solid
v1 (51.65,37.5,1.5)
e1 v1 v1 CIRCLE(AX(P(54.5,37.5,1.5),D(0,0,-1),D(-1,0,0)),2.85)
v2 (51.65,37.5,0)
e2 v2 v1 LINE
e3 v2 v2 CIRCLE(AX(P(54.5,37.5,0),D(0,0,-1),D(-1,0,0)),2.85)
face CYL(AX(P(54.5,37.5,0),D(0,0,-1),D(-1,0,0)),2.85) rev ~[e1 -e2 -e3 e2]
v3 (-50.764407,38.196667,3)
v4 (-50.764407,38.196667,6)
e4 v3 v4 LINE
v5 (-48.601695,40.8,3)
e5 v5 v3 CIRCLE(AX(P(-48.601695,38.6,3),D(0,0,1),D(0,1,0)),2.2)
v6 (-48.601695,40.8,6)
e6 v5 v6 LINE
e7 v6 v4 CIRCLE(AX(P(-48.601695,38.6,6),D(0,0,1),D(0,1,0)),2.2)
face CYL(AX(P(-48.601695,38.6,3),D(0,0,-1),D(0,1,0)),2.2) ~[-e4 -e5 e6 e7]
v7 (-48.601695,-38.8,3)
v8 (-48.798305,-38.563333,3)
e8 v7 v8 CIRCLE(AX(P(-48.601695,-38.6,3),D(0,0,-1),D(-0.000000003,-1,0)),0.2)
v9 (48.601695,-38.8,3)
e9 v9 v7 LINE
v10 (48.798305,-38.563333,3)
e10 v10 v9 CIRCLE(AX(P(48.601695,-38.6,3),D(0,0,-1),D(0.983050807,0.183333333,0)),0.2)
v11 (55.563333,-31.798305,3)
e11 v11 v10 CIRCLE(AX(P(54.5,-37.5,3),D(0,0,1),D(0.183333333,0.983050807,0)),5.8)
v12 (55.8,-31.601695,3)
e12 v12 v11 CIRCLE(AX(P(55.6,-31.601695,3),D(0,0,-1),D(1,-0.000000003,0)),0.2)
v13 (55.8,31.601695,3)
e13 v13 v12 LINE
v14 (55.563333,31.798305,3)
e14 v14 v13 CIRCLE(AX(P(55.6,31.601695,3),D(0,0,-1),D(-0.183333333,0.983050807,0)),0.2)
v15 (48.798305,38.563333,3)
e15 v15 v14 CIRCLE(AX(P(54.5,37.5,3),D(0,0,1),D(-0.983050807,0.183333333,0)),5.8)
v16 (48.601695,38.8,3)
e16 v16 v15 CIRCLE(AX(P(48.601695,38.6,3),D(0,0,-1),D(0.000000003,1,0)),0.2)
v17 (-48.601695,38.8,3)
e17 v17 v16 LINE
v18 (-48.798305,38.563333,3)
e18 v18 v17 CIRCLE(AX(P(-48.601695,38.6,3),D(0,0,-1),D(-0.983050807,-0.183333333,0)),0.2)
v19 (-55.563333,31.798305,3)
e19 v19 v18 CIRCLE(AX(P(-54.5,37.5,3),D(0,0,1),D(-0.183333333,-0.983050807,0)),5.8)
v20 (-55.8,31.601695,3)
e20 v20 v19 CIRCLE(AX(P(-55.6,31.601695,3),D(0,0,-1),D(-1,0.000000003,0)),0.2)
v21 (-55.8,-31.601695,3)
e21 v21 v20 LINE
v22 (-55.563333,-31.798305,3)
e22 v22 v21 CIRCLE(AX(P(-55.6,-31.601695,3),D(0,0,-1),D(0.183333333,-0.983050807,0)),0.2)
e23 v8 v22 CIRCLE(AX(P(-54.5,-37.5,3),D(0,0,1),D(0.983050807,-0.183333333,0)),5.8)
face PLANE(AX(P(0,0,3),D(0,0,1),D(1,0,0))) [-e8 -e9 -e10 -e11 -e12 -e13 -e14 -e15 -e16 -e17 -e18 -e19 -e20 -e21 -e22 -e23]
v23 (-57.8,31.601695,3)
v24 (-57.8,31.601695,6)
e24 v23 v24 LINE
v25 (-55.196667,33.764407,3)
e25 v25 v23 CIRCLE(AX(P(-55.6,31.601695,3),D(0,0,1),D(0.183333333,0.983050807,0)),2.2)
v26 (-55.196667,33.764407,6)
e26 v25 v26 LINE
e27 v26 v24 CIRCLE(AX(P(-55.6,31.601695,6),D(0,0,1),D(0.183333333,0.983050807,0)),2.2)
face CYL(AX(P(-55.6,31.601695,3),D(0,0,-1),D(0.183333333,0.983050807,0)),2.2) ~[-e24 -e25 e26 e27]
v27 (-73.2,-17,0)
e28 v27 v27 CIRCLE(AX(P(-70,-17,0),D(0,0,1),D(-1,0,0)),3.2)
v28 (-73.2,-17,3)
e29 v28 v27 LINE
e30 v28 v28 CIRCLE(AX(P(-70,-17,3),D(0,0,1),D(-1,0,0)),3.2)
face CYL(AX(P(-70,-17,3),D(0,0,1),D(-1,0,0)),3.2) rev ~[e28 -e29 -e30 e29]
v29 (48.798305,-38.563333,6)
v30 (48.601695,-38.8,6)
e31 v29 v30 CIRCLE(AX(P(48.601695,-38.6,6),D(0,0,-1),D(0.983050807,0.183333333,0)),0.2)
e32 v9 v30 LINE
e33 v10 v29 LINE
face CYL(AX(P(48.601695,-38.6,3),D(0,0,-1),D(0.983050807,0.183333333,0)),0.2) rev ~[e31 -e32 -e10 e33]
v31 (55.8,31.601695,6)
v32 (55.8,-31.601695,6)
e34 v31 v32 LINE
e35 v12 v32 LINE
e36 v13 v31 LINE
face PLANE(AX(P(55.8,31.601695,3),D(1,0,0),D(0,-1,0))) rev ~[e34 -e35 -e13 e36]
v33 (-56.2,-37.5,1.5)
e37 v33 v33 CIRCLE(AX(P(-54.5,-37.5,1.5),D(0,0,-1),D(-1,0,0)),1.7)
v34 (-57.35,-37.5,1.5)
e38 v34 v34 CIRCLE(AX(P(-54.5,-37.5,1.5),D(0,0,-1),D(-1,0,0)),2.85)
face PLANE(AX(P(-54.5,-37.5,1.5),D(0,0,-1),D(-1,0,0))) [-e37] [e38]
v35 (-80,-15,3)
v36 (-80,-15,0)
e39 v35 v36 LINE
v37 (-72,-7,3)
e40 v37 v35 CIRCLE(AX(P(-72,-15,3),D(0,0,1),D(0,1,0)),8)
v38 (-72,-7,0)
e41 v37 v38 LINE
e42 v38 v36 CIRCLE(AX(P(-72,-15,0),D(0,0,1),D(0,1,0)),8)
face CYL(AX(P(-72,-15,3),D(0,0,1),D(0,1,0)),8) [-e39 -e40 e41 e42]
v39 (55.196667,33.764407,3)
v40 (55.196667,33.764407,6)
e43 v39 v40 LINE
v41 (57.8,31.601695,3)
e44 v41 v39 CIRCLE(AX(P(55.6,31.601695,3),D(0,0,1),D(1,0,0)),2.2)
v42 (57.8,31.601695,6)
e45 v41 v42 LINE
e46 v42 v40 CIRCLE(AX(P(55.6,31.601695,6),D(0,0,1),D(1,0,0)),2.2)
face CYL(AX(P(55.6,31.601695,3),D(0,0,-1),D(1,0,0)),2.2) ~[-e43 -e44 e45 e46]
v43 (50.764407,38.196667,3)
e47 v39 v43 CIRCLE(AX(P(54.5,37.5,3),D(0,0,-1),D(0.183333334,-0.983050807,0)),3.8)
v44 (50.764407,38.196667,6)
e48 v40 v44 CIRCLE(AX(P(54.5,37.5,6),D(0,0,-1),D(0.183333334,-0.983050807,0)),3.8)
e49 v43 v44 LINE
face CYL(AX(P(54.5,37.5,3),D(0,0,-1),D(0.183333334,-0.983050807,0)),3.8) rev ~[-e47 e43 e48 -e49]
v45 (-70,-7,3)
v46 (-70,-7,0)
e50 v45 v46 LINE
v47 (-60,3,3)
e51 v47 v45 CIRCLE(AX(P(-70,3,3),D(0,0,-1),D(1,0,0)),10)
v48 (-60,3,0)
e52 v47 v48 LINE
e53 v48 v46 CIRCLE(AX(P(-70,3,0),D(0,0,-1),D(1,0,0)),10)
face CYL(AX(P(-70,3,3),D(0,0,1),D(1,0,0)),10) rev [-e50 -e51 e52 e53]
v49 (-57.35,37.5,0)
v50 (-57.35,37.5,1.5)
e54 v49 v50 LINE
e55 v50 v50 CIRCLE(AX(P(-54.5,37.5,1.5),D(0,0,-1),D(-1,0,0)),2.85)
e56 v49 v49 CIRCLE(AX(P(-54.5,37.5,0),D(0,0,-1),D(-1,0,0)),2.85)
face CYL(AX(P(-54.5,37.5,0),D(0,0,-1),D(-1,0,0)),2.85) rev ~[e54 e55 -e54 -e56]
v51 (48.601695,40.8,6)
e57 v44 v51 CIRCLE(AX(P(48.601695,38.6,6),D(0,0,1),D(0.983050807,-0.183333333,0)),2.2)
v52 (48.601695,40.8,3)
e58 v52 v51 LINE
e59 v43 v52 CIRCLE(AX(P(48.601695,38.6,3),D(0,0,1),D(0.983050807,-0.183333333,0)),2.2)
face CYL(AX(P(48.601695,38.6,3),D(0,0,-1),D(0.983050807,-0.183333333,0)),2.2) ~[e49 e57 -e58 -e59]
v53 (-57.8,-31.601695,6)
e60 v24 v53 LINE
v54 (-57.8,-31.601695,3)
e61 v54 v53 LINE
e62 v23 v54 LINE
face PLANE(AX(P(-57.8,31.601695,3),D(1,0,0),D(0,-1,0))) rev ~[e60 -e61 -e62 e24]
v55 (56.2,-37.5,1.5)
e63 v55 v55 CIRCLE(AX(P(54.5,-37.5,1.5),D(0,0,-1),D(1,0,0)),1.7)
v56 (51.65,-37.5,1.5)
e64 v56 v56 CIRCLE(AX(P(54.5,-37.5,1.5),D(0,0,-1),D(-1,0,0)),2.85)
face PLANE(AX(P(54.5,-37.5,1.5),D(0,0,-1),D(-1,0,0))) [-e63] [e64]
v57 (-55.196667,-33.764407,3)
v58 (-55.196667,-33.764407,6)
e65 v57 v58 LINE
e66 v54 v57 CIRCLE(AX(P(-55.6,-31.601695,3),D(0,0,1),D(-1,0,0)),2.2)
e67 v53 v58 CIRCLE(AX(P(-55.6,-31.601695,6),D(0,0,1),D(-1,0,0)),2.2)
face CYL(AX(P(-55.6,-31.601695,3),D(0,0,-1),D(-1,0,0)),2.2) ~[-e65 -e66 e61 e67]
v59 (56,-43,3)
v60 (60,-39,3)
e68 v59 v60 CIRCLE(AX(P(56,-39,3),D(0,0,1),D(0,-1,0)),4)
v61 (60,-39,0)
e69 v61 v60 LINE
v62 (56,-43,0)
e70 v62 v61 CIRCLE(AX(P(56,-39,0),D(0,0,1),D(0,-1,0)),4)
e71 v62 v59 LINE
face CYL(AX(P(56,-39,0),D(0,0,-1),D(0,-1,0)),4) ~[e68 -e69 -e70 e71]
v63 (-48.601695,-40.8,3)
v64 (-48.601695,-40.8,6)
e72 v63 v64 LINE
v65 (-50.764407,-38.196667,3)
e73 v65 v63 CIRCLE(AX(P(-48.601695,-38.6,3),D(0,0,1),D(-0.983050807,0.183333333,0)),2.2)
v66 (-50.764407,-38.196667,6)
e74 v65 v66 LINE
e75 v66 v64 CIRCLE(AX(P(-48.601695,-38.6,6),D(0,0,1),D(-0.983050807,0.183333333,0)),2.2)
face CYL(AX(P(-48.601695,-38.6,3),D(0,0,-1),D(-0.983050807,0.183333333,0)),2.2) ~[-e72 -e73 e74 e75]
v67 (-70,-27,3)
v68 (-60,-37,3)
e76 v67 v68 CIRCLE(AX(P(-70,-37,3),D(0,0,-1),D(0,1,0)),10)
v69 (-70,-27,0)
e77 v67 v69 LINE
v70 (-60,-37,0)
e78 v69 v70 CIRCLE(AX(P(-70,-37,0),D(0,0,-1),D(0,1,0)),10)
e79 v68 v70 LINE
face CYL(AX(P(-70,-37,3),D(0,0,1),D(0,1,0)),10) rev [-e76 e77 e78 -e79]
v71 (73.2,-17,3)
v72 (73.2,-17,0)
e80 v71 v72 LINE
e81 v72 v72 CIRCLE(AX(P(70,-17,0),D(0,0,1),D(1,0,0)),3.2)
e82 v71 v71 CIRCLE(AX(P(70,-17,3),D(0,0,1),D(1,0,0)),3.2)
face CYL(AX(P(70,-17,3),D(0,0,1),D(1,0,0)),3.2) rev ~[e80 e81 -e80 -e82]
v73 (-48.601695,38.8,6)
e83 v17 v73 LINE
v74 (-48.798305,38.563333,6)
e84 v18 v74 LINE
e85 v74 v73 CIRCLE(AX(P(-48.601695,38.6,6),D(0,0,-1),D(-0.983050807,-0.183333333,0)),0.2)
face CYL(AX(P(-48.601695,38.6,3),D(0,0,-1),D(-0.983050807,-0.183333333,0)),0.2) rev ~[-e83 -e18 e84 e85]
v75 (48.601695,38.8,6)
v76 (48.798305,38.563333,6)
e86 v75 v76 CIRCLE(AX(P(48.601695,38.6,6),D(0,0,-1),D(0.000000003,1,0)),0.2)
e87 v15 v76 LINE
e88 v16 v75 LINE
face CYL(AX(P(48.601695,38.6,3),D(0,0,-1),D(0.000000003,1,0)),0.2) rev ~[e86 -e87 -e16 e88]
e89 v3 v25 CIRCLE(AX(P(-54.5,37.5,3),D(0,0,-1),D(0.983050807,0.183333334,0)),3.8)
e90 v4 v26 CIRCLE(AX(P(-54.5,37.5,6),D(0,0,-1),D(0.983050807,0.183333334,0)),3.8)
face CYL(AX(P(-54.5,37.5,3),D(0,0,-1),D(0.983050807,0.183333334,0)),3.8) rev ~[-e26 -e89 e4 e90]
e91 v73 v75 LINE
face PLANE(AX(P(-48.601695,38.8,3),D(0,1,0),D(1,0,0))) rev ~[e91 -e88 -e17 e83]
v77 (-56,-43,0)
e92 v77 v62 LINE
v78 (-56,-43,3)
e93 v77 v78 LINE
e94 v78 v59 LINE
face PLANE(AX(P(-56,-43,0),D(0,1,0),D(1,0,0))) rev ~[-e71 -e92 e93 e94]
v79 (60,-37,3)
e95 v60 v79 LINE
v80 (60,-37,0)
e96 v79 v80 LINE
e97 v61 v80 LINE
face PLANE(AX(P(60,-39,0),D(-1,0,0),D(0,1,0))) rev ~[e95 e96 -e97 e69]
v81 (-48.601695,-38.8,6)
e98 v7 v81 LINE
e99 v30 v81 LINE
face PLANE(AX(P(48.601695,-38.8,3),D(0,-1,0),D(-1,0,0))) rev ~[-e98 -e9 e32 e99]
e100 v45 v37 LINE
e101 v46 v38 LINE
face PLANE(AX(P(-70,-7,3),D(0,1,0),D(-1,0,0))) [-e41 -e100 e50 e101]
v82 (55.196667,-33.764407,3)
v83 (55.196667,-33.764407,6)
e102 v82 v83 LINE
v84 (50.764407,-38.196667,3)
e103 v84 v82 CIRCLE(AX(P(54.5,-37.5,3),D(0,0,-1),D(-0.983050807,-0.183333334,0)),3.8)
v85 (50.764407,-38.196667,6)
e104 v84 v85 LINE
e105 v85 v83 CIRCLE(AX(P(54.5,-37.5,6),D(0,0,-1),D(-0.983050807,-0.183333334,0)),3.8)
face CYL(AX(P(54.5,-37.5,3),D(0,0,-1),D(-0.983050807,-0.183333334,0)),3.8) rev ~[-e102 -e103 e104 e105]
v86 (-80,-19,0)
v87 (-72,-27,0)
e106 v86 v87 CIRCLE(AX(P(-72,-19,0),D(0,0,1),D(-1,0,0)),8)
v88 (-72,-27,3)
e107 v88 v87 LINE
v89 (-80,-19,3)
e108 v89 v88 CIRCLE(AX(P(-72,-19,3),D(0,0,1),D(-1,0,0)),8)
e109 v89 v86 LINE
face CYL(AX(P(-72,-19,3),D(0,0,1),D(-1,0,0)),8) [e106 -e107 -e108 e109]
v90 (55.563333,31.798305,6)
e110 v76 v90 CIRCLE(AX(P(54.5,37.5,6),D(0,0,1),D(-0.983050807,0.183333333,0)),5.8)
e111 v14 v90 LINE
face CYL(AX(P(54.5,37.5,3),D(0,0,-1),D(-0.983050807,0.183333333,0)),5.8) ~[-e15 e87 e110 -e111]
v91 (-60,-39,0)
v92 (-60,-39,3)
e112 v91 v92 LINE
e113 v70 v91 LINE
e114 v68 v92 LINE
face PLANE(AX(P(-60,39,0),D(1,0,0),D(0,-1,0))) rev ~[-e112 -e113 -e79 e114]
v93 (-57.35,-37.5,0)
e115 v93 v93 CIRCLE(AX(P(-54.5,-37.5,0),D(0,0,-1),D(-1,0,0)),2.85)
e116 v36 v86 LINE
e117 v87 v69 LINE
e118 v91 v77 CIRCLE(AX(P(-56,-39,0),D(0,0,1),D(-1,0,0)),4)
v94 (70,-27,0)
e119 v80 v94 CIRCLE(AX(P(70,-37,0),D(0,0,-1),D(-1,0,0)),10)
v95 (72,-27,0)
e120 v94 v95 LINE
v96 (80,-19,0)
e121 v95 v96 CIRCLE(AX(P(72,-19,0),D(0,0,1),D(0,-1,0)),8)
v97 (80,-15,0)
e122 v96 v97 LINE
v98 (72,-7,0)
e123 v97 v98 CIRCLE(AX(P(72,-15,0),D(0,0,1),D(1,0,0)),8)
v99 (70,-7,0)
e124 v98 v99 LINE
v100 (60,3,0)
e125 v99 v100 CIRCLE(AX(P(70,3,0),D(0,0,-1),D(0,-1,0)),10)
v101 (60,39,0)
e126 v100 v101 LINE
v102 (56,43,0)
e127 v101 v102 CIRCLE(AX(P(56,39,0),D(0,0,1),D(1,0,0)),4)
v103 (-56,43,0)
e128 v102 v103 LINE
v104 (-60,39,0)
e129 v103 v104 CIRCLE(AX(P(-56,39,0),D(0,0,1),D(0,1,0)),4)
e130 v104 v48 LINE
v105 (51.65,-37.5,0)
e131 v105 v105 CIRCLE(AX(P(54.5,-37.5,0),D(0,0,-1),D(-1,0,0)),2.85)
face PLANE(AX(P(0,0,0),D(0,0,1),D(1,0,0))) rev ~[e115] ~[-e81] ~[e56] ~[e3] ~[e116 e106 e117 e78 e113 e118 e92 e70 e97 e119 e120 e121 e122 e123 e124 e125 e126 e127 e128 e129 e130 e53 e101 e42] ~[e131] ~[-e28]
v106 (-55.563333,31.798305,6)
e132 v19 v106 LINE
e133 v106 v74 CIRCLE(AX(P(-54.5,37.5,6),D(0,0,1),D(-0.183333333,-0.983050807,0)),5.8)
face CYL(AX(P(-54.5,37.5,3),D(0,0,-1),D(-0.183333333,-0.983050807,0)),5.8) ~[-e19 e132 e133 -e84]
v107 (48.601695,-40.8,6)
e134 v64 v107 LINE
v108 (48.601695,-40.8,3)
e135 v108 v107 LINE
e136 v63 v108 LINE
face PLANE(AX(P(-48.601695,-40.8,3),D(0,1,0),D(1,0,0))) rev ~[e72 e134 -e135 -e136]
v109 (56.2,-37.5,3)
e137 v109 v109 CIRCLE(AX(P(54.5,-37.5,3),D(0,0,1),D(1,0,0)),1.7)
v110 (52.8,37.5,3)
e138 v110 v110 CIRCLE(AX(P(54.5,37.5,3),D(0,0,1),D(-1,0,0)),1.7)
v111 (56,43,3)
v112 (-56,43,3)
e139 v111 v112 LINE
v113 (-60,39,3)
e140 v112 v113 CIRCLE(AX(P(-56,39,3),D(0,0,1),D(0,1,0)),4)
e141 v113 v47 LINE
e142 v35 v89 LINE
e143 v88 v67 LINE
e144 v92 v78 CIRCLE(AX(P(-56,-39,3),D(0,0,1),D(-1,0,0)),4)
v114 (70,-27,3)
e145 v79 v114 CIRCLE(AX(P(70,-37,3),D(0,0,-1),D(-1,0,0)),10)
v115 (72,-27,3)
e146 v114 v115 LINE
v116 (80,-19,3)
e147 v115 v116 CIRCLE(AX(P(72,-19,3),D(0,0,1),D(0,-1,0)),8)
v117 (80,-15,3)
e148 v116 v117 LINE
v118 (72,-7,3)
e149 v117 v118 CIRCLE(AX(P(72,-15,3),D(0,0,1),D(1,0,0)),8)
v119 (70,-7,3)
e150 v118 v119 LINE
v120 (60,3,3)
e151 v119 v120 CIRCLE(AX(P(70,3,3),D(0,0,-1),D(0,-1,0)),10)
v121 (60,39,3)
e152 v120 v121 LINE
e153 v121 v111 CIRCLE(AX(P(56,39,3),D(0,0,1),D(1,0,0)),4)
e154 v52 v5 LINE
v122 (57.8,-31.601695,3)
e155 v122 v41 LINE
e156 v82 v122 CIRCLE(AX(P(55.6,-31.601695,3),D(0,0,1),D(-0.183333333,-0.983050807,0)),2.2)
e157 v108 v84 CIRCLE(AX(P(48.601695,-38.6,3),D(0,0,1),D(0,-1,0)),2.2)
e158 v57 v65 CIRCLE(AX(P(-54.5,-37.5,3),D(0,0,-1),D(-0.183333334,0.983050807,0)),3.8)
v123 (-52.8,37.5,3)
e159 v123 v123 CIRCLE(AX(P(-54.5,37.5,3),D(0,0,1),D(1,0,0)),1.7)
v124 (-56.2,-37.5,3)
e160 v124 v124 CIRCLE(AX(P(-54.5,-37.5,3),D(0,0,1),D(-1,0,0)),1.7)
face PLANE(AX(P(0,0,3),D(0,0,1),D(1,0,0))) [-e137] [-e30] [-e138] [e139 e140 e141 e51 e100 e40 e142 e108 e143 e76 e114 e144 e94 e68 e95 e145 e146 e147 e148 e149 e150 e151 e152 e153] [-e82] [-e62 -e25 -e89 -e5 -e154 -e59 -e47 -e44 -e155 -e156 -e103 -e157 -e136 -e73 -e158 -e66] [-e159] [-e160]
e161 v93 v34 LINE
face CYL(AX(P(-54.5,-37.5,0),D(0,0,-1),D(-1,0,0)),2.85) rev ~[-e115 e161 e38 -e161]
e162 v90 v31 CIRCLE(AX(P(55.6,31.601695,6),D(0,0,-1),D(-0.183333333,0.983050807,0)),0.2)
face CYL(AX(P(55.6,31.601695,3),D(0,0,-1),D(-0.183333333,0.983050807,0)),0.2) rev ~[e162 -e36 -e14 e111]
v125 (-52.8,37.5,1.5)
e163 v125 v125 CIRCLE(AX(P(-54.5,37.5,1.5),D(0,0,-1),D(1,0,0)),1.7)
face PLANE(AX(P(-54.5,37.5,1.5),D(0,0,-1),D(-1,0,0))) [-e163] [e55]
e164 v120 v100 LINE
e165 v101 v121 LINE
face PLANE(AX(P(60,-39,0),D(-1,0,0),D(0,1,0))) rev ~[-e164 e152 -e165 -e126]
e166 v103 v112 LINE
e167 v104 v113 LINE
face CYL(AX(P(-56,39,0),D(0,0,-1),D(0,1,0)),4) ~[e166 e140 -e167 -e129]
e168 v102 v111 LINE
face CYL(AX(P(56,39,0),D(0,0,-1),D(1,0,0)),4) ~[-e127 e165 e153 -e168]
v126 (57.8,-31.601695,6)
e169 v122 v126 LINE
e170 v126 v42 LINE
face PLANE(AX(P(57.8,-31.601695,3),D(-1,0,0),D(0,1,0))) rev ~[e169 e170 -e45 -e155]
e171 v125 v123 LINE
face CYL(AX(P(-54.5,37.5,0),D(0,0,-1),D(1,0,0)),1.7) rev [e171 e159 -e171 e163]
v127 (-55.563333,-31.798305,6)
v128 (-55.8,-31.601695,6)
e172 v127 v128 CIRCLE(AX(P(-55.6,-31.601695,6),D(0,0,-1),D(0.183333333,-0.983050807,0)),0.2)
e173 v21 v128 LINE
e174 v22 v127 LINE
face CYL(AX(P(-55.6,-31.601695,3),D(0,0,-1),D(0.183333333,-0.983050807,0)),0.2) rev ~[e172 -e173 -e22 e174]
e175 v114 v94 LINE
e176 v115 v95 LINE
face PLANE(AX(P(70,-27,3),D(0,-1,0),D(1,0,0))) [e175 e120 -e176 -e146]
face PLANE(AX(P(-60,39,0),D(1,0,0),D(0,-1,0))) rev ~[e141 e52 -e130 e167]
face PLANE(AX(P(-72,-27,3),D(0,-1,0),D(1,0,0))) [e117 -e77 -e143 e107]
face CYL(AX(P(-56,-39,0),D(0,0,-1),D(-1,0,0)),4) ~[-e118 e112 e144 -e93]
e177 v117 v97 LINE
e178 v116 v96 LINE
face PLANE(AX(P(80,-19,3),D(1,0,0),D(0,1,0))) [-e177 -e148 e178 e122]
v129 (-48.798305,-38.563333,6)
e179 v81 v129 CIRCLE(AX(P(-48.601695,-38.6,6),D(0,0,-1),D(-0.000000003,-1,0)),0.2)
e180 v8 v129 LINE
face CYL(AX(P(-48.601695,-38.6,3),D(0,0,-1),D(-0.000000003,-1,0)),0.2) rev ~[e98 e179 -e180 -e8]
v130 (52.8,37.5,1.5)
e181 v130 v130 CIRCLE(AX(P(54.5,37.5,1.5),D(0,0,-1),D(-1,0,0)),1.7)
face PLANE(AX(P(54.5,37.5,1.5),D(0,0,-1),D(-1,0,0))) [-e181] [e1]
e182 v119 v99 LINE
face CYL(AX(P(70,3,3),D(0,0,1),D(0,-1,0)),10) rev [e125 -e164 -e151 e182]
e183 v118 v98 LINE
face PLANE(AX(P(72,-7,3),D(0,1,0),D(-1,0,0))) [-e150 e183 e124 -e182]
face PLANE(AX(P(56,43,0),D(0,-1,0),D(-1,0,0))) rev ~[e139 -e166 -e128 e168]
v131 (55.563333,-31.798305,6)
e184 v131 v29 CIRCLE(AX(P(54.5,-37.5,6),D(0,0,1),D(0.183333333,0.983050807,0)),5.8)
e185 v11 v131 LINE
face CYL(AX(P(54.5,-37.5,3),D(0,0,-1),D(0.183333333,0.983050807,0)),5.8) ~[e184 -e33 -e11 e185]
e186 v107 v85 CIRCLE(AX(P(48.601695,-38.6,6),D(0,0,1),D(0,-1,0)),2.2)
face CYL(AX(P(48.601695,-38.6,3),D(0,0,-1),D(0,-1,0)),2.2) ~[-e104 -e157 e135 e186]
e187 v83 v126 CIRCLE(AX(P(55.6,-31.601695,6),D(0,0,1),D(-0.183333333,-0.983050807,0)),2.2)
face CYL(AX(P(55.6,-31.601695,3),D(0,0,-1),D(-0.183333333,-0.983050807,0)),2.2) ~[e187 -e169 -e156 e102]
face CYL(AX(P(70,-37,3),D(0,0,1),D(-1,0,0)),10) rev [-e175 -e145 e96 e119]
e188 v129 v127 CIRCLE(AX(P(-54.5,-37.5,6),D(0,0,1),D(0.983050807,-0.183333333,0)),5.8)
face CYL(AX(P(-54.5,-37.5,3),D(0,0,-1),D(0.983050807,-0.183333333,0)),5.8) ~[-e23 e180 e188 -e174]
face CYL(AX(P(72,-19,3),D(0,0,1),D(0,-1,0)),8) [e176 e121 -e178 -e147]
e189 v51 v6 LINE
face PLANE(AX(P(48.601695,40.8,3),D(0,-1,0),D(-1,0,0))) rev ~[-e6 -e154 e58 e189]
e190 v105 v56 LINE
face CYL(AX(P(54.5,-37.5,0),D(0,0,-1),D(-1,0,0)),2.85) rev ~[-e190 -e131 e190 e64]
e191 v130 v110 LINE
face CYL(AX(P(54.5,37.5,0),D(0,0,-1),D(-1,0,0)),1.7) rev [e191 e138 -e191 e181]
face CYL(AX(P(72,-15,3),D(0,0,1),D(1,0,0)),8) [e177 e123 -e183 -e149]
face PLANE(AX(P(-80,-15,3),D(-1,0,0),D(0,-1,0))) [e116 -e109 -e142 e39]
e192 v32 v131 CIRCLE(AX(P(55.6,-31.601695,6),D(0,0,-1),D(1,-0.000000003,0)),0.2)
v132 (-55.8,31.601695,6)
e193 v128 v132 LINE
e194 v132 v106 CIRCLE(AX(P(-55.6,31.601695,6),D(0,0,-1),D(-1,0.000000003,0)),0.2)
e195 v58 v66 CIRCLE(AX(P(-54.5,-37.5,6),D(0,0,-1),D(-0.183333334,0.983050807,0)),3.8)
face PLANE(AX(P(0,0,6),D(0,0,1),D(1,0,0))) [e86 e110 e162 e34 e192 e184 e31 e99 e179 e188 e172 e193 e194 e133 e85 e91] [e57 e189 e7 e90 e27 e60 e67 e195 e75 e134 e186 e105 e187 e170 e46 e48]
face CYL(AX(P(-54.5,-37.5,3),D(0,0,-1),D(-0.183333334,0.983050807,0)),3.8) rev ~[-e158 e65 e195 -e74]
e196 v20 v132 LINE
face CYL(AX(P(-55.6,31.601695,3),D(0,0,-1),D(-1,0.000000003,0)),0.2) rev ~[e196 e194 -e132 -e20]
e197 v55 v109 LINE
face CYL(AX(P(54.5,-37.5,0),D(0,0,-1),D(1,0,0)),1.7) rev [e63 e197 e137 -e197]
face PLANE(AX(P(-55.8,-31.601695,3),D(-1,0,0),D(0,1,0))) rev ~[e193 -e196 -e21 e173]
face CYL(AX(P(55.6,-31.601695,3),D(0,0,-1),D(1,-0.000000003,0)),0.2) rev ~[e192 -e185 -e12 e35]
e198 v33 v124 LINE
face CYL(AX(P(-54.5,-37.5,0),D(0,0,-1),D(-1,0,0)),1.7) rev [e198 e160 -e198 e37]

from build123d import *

# Parameters (mm, degrees)
SKETCH1_R           = 1.7
BOSS_EXTRUDE1_DEPTH = 3
BOSS_EXTRUDE2_DEPTH = 3
SKETCH3_R           = 3.2
BOSS_EXTRUDE3_DEPTH = 3
SKETCH4_R           = 2.85
SKETCH4_R_2         = 1.7
CUT_EXTRUDE1_DEPTH  = 1.5


with BuildPart() as part:
    # Sketch1 → Boss-Extrude1 (new body)
    with BuildSketch(Plane.XY):
        with BuildLine():
            Line((-56, -43), (56, -43))
            ThreePointArc((56, -43), (58.828427125, -41.828427125), (60, -39))
            Line((60, -39), (60, 39))
            ThreePointArc((60, 39), (58.828427125, 41.828427125), (56, 43))
            Line((56, 43), (-56, 43))
            ThreePointArc((-56, 43), (-58.828427125, 41.828427125), (-60, 39))
            Line((-60, 39), (-60, -39))
            ThreePointArc((-60, -39), (-58.828427125, -41.828427125), (-56, -43))
        make_face()
        with Locations((-54.5, 37.5)):
            Circle(SKETCH1_R, mode=Mode.SUBTRACT)
        with Locations(Location((-54.5, -37.5, 0), (0, 0, 180))):
            Circle(SKETCH1_R, mode=Mode.SUBTRACT)
        with Locations((54.5, -37.5)):
            Circle(SKETCH1_R, mode=Mode.SUBTRACT)
        with Locations(Location((54.5, 37.5, 0), (0, 0, 180))):
            Circle(SKETCH1_R, mode=Mode.SUBTRACT)
    extrude(amount=BOSS_EXTRUDE1_DEPTH)

    # Sketch2 → Boss-Extrude2 (add)
    with BuildSketch(Plane.XY.offset(3)):
        with BuildLine():
            Line((-57.8, 31.601695159), (-57.8, -31.601695159))
            ThreePointArc((-57.8, -31.601695159), (-57.005821231, -33.293932337), (-55.196666667, -33.764406934))
            ThreePointArc((-55.196666667, -33.764406934), (-51.812994231, -34.812994231), (-50.764406934, -38.196666667))
            ThreePointArc((-50.764406934, -38.196666667), (-50.293932337, -40.005821231), (-48.601695159, -40.8))
            Line((-48.601695159, -40.8), (48.601695159, -40.8))
            ThreePointArc((48.601695159, -40.8), (50.293932337, -40.005821231), (50.764406934, -38.196666667))
            ThreePointArc((50.764406934, -38.196666667), (51.812994231, -34.812994231), (55.196666667, -33.764406934))
            ThreePointArc((55.196666667, -33.764406934), (57.005821231, -33.293932337), (57.8, -31.601695159))
            Line((57.8, -31.601695159), (57.8, 31.601695159))
            ThreePointArc((57.8, 31.601695159), (57.005821231, 33.293932337), (55.196666667, 33.764406934))
            ThreePointArc((55.196666667, 33.764406934), (51.812994231, 34.812994231), (50.764406934, 38.196666667))
            ThreePointArc((50.764406934, 38.196666667), (50.293932337, 40.005821231), (48.601695159, 40.8))
            Line((48.601695159, 40.8), (-48.601695159, 40.8))
            ThreePointArc((-48.601695159, 40.8), (-50.293932337, 40.005821231), (-50.764406934, 38.196666667))
            ThreePointArc((-50.764406934, 38.196666667), (-51.812994231, 34.812994231), (-55.196666667, 33.764406934))
            ThreePointArc((-55.196666667, 33.764406934), (-57.005821231, 33.293932337), (-57.8, 31.601695159))
        make_face()
        with BuildLine():
            Line((-48.601695159, 38.8), (48.601695159, 38.8))
            ThreePointArc((48.601695159, 38.8), (48.755534902, 38.72780193), (48.79830532, 38.563333333))
            ThreePointArc((48.79830532, 38.563333333), (50.398780669, 33.398780669), (55.563333333, 31.79830532))
            ThreePointArc((55.563333333, 31.79830532), (55.72780193, 31.755534902), (55.8, 31.601695159))
            Line((55.8, 31.601695159), (55.8, -31.601695159))
            ThreePointArc((55.8, -31.601695159), (55.72780193, -31.755534902), (55.563333333, -31.79830532))
            ThreePointArc((55.563333333, -31.79830532), (50.398780669, -33.398780669), (48.79830532, -38.563333333))
            ThreePointArc((48.79830532, -38.563333333), (48.755534902, -38.72780193), (48.601695159, -38.8))
            Line((48.601695159, -38.8), (-48.601695159, -38.8))
            ThreePointArc((-48.601695159, -38.8), (-48.755534902, -38.72780193), (-48.79830532, -38.563333333))
            ThreePointArc((-48.79830532, -38.563333333), (-50.398780669, -33.398780669), (-55.563333333, -31.79830532))
            ThreePointArc((-55.563333333, -31.79830532), (-55.72780193, -31.755534902), (-55.8, -31.601695159))
            Line((-55.8, -31.601695159), (-55.8, 31.601695159))
            ThreePointArc((-55.8, 31.601695159), (-55.72780193, 31.755534902), (-55.563333333, 31.79830532))
            ThreePointArc((-55.563333333, 31.79830532), (-50.398780669, 33.398780669), (-48.79830532, 38.563333333))
            ThreePointArc((-48.79830532, 38.563333333), (-48.755534902, 38.72780193), (-48.601695159, 38.8))
        make_face(mode=Mode.SUBTRACT)
    extrude(amount=BOSS_EXTRUDE2_DEPTH)

    # Sketch3 → Boss-Extrude3 (add)
    # profile 1 of 2: a face of its own
    with BuildSketch(Plane.XY.offset(3)):
        with BuildLine():
            Line((60, 3), (60, -7))
            Line((60, -7), (60, -27))
            Line((60, -27), (60, -37))
            ThreePointArc((60, -37), (62.928932188, -29.928932188), (70, -27))
            Line((70, -27), (72, -27))
            ThreePointArc((72, -27), (77.656854249, -24.656854249), (80, -19))
            Line((80, -19), (80, -15))
            ThreePointArc((80, -15), (77.656854249, -9.343145751), (72, -7))
            Line((72, -7), (70, -7))
            ThreePointArc((70, -7), (62.928932188, -4.071067812), (60, 3))
        make_face()
        with Locations((70, -17)):
            Circle(SKETCH3_R, mode=Mode.SUBTRACT)
    # profile 2 of 2: a face of its own
    with BuildSketch(Plane.XY.offset(3)):
        with BuildLine():
            Line((-70, -7), (-72, -7))
            ThreePointArc((-72, -7), (-77.656854249, -9.343145751), (-80, -15))
            Line((-80, -15), (-80, -19))
            ThreePointArc((-80, -19), (-77.656854249, -24.656854249), (-72, -27))
            Line((-72, -27), (-70, -27))
            ThreePointArc((-70, -27), (-62.928932188, -29.928932188), (-60, -37))
            Line((-60, -37), (-60, -27))
            Line((-60, -27), (-60, -7))
            Line((-60, -7), (-60, 3))
            ThreePointArc((-60, 3), (-62.928932188, -4.071067812), (-70, -7))
        make_face()
        with Locations(Location((-70, -17, 0), (0, 0, 180))):
            Circle(SKETCH3_R, mode=Mode.SUBTRACT)
    extrude(amount=-BOSS_EXTRUDE3_DEPTH)

    # Sketch4 → Cut-Extrude1 (cut)
    # profile 1 of 4: a face of its own
    with BuildSketch(Plane(origin=(0, 0, 0), x_dir=(-1, 0, 0), z_dir=(0, 0, -1))):
        with Locations((-54.5, 37.5)):
            Circle(SKETCH4_R)
        with Locations((-54.5, 37.5)):
            Circle(SKETCH4_R_2, mode=Mode.SUBTRACT)
    # profile 2 of 4: a face of its own
    with BuildSketch(Plane(origin=(0, 0, 0), x_dir=(-1, 0, 0), z_dir=(0, 0, -1))):
        with Locations((54.5, 37.5)):
            Circle(SKETCH4_R)
        with Locations((54.5, 37.5)):
            Circle(SKETCH4_R_2, mode=Mode.SUBTRACT)
    # profile 3 of 4: a face of its own
    with BuildSketch(Plane(origin=(0, 0, 0), x_dir=(-1, 0, 0), z_dir=(0, 0, -1))):
        with Locations((54.5, -37.5)):
            Circle(SKETCH4_R)
        with Locations((54.5, -37.5)):
            Circle(SKETCH4_R_2, mode=Mode.SUBTRACT)
    # profile 4 of 4: a face of its own
    with BuildSketch(Plane(origin=(0, 0, 0), x_dir=(-1, 0, 0), z_dir=(0, 0, -1))):
        with Locations((-54.5, -37.5)):
            Circle(SKETCH4_R)
        with Locations((-54.5, -37.5)):
            Circle(SKETCH4_R_2, mode=Mode.SUBTRACT)
    extrude(amount=-CUT_EXTRUDE1_DEPTH, mode=Mode.SUBTRACT)


solid = part.part
